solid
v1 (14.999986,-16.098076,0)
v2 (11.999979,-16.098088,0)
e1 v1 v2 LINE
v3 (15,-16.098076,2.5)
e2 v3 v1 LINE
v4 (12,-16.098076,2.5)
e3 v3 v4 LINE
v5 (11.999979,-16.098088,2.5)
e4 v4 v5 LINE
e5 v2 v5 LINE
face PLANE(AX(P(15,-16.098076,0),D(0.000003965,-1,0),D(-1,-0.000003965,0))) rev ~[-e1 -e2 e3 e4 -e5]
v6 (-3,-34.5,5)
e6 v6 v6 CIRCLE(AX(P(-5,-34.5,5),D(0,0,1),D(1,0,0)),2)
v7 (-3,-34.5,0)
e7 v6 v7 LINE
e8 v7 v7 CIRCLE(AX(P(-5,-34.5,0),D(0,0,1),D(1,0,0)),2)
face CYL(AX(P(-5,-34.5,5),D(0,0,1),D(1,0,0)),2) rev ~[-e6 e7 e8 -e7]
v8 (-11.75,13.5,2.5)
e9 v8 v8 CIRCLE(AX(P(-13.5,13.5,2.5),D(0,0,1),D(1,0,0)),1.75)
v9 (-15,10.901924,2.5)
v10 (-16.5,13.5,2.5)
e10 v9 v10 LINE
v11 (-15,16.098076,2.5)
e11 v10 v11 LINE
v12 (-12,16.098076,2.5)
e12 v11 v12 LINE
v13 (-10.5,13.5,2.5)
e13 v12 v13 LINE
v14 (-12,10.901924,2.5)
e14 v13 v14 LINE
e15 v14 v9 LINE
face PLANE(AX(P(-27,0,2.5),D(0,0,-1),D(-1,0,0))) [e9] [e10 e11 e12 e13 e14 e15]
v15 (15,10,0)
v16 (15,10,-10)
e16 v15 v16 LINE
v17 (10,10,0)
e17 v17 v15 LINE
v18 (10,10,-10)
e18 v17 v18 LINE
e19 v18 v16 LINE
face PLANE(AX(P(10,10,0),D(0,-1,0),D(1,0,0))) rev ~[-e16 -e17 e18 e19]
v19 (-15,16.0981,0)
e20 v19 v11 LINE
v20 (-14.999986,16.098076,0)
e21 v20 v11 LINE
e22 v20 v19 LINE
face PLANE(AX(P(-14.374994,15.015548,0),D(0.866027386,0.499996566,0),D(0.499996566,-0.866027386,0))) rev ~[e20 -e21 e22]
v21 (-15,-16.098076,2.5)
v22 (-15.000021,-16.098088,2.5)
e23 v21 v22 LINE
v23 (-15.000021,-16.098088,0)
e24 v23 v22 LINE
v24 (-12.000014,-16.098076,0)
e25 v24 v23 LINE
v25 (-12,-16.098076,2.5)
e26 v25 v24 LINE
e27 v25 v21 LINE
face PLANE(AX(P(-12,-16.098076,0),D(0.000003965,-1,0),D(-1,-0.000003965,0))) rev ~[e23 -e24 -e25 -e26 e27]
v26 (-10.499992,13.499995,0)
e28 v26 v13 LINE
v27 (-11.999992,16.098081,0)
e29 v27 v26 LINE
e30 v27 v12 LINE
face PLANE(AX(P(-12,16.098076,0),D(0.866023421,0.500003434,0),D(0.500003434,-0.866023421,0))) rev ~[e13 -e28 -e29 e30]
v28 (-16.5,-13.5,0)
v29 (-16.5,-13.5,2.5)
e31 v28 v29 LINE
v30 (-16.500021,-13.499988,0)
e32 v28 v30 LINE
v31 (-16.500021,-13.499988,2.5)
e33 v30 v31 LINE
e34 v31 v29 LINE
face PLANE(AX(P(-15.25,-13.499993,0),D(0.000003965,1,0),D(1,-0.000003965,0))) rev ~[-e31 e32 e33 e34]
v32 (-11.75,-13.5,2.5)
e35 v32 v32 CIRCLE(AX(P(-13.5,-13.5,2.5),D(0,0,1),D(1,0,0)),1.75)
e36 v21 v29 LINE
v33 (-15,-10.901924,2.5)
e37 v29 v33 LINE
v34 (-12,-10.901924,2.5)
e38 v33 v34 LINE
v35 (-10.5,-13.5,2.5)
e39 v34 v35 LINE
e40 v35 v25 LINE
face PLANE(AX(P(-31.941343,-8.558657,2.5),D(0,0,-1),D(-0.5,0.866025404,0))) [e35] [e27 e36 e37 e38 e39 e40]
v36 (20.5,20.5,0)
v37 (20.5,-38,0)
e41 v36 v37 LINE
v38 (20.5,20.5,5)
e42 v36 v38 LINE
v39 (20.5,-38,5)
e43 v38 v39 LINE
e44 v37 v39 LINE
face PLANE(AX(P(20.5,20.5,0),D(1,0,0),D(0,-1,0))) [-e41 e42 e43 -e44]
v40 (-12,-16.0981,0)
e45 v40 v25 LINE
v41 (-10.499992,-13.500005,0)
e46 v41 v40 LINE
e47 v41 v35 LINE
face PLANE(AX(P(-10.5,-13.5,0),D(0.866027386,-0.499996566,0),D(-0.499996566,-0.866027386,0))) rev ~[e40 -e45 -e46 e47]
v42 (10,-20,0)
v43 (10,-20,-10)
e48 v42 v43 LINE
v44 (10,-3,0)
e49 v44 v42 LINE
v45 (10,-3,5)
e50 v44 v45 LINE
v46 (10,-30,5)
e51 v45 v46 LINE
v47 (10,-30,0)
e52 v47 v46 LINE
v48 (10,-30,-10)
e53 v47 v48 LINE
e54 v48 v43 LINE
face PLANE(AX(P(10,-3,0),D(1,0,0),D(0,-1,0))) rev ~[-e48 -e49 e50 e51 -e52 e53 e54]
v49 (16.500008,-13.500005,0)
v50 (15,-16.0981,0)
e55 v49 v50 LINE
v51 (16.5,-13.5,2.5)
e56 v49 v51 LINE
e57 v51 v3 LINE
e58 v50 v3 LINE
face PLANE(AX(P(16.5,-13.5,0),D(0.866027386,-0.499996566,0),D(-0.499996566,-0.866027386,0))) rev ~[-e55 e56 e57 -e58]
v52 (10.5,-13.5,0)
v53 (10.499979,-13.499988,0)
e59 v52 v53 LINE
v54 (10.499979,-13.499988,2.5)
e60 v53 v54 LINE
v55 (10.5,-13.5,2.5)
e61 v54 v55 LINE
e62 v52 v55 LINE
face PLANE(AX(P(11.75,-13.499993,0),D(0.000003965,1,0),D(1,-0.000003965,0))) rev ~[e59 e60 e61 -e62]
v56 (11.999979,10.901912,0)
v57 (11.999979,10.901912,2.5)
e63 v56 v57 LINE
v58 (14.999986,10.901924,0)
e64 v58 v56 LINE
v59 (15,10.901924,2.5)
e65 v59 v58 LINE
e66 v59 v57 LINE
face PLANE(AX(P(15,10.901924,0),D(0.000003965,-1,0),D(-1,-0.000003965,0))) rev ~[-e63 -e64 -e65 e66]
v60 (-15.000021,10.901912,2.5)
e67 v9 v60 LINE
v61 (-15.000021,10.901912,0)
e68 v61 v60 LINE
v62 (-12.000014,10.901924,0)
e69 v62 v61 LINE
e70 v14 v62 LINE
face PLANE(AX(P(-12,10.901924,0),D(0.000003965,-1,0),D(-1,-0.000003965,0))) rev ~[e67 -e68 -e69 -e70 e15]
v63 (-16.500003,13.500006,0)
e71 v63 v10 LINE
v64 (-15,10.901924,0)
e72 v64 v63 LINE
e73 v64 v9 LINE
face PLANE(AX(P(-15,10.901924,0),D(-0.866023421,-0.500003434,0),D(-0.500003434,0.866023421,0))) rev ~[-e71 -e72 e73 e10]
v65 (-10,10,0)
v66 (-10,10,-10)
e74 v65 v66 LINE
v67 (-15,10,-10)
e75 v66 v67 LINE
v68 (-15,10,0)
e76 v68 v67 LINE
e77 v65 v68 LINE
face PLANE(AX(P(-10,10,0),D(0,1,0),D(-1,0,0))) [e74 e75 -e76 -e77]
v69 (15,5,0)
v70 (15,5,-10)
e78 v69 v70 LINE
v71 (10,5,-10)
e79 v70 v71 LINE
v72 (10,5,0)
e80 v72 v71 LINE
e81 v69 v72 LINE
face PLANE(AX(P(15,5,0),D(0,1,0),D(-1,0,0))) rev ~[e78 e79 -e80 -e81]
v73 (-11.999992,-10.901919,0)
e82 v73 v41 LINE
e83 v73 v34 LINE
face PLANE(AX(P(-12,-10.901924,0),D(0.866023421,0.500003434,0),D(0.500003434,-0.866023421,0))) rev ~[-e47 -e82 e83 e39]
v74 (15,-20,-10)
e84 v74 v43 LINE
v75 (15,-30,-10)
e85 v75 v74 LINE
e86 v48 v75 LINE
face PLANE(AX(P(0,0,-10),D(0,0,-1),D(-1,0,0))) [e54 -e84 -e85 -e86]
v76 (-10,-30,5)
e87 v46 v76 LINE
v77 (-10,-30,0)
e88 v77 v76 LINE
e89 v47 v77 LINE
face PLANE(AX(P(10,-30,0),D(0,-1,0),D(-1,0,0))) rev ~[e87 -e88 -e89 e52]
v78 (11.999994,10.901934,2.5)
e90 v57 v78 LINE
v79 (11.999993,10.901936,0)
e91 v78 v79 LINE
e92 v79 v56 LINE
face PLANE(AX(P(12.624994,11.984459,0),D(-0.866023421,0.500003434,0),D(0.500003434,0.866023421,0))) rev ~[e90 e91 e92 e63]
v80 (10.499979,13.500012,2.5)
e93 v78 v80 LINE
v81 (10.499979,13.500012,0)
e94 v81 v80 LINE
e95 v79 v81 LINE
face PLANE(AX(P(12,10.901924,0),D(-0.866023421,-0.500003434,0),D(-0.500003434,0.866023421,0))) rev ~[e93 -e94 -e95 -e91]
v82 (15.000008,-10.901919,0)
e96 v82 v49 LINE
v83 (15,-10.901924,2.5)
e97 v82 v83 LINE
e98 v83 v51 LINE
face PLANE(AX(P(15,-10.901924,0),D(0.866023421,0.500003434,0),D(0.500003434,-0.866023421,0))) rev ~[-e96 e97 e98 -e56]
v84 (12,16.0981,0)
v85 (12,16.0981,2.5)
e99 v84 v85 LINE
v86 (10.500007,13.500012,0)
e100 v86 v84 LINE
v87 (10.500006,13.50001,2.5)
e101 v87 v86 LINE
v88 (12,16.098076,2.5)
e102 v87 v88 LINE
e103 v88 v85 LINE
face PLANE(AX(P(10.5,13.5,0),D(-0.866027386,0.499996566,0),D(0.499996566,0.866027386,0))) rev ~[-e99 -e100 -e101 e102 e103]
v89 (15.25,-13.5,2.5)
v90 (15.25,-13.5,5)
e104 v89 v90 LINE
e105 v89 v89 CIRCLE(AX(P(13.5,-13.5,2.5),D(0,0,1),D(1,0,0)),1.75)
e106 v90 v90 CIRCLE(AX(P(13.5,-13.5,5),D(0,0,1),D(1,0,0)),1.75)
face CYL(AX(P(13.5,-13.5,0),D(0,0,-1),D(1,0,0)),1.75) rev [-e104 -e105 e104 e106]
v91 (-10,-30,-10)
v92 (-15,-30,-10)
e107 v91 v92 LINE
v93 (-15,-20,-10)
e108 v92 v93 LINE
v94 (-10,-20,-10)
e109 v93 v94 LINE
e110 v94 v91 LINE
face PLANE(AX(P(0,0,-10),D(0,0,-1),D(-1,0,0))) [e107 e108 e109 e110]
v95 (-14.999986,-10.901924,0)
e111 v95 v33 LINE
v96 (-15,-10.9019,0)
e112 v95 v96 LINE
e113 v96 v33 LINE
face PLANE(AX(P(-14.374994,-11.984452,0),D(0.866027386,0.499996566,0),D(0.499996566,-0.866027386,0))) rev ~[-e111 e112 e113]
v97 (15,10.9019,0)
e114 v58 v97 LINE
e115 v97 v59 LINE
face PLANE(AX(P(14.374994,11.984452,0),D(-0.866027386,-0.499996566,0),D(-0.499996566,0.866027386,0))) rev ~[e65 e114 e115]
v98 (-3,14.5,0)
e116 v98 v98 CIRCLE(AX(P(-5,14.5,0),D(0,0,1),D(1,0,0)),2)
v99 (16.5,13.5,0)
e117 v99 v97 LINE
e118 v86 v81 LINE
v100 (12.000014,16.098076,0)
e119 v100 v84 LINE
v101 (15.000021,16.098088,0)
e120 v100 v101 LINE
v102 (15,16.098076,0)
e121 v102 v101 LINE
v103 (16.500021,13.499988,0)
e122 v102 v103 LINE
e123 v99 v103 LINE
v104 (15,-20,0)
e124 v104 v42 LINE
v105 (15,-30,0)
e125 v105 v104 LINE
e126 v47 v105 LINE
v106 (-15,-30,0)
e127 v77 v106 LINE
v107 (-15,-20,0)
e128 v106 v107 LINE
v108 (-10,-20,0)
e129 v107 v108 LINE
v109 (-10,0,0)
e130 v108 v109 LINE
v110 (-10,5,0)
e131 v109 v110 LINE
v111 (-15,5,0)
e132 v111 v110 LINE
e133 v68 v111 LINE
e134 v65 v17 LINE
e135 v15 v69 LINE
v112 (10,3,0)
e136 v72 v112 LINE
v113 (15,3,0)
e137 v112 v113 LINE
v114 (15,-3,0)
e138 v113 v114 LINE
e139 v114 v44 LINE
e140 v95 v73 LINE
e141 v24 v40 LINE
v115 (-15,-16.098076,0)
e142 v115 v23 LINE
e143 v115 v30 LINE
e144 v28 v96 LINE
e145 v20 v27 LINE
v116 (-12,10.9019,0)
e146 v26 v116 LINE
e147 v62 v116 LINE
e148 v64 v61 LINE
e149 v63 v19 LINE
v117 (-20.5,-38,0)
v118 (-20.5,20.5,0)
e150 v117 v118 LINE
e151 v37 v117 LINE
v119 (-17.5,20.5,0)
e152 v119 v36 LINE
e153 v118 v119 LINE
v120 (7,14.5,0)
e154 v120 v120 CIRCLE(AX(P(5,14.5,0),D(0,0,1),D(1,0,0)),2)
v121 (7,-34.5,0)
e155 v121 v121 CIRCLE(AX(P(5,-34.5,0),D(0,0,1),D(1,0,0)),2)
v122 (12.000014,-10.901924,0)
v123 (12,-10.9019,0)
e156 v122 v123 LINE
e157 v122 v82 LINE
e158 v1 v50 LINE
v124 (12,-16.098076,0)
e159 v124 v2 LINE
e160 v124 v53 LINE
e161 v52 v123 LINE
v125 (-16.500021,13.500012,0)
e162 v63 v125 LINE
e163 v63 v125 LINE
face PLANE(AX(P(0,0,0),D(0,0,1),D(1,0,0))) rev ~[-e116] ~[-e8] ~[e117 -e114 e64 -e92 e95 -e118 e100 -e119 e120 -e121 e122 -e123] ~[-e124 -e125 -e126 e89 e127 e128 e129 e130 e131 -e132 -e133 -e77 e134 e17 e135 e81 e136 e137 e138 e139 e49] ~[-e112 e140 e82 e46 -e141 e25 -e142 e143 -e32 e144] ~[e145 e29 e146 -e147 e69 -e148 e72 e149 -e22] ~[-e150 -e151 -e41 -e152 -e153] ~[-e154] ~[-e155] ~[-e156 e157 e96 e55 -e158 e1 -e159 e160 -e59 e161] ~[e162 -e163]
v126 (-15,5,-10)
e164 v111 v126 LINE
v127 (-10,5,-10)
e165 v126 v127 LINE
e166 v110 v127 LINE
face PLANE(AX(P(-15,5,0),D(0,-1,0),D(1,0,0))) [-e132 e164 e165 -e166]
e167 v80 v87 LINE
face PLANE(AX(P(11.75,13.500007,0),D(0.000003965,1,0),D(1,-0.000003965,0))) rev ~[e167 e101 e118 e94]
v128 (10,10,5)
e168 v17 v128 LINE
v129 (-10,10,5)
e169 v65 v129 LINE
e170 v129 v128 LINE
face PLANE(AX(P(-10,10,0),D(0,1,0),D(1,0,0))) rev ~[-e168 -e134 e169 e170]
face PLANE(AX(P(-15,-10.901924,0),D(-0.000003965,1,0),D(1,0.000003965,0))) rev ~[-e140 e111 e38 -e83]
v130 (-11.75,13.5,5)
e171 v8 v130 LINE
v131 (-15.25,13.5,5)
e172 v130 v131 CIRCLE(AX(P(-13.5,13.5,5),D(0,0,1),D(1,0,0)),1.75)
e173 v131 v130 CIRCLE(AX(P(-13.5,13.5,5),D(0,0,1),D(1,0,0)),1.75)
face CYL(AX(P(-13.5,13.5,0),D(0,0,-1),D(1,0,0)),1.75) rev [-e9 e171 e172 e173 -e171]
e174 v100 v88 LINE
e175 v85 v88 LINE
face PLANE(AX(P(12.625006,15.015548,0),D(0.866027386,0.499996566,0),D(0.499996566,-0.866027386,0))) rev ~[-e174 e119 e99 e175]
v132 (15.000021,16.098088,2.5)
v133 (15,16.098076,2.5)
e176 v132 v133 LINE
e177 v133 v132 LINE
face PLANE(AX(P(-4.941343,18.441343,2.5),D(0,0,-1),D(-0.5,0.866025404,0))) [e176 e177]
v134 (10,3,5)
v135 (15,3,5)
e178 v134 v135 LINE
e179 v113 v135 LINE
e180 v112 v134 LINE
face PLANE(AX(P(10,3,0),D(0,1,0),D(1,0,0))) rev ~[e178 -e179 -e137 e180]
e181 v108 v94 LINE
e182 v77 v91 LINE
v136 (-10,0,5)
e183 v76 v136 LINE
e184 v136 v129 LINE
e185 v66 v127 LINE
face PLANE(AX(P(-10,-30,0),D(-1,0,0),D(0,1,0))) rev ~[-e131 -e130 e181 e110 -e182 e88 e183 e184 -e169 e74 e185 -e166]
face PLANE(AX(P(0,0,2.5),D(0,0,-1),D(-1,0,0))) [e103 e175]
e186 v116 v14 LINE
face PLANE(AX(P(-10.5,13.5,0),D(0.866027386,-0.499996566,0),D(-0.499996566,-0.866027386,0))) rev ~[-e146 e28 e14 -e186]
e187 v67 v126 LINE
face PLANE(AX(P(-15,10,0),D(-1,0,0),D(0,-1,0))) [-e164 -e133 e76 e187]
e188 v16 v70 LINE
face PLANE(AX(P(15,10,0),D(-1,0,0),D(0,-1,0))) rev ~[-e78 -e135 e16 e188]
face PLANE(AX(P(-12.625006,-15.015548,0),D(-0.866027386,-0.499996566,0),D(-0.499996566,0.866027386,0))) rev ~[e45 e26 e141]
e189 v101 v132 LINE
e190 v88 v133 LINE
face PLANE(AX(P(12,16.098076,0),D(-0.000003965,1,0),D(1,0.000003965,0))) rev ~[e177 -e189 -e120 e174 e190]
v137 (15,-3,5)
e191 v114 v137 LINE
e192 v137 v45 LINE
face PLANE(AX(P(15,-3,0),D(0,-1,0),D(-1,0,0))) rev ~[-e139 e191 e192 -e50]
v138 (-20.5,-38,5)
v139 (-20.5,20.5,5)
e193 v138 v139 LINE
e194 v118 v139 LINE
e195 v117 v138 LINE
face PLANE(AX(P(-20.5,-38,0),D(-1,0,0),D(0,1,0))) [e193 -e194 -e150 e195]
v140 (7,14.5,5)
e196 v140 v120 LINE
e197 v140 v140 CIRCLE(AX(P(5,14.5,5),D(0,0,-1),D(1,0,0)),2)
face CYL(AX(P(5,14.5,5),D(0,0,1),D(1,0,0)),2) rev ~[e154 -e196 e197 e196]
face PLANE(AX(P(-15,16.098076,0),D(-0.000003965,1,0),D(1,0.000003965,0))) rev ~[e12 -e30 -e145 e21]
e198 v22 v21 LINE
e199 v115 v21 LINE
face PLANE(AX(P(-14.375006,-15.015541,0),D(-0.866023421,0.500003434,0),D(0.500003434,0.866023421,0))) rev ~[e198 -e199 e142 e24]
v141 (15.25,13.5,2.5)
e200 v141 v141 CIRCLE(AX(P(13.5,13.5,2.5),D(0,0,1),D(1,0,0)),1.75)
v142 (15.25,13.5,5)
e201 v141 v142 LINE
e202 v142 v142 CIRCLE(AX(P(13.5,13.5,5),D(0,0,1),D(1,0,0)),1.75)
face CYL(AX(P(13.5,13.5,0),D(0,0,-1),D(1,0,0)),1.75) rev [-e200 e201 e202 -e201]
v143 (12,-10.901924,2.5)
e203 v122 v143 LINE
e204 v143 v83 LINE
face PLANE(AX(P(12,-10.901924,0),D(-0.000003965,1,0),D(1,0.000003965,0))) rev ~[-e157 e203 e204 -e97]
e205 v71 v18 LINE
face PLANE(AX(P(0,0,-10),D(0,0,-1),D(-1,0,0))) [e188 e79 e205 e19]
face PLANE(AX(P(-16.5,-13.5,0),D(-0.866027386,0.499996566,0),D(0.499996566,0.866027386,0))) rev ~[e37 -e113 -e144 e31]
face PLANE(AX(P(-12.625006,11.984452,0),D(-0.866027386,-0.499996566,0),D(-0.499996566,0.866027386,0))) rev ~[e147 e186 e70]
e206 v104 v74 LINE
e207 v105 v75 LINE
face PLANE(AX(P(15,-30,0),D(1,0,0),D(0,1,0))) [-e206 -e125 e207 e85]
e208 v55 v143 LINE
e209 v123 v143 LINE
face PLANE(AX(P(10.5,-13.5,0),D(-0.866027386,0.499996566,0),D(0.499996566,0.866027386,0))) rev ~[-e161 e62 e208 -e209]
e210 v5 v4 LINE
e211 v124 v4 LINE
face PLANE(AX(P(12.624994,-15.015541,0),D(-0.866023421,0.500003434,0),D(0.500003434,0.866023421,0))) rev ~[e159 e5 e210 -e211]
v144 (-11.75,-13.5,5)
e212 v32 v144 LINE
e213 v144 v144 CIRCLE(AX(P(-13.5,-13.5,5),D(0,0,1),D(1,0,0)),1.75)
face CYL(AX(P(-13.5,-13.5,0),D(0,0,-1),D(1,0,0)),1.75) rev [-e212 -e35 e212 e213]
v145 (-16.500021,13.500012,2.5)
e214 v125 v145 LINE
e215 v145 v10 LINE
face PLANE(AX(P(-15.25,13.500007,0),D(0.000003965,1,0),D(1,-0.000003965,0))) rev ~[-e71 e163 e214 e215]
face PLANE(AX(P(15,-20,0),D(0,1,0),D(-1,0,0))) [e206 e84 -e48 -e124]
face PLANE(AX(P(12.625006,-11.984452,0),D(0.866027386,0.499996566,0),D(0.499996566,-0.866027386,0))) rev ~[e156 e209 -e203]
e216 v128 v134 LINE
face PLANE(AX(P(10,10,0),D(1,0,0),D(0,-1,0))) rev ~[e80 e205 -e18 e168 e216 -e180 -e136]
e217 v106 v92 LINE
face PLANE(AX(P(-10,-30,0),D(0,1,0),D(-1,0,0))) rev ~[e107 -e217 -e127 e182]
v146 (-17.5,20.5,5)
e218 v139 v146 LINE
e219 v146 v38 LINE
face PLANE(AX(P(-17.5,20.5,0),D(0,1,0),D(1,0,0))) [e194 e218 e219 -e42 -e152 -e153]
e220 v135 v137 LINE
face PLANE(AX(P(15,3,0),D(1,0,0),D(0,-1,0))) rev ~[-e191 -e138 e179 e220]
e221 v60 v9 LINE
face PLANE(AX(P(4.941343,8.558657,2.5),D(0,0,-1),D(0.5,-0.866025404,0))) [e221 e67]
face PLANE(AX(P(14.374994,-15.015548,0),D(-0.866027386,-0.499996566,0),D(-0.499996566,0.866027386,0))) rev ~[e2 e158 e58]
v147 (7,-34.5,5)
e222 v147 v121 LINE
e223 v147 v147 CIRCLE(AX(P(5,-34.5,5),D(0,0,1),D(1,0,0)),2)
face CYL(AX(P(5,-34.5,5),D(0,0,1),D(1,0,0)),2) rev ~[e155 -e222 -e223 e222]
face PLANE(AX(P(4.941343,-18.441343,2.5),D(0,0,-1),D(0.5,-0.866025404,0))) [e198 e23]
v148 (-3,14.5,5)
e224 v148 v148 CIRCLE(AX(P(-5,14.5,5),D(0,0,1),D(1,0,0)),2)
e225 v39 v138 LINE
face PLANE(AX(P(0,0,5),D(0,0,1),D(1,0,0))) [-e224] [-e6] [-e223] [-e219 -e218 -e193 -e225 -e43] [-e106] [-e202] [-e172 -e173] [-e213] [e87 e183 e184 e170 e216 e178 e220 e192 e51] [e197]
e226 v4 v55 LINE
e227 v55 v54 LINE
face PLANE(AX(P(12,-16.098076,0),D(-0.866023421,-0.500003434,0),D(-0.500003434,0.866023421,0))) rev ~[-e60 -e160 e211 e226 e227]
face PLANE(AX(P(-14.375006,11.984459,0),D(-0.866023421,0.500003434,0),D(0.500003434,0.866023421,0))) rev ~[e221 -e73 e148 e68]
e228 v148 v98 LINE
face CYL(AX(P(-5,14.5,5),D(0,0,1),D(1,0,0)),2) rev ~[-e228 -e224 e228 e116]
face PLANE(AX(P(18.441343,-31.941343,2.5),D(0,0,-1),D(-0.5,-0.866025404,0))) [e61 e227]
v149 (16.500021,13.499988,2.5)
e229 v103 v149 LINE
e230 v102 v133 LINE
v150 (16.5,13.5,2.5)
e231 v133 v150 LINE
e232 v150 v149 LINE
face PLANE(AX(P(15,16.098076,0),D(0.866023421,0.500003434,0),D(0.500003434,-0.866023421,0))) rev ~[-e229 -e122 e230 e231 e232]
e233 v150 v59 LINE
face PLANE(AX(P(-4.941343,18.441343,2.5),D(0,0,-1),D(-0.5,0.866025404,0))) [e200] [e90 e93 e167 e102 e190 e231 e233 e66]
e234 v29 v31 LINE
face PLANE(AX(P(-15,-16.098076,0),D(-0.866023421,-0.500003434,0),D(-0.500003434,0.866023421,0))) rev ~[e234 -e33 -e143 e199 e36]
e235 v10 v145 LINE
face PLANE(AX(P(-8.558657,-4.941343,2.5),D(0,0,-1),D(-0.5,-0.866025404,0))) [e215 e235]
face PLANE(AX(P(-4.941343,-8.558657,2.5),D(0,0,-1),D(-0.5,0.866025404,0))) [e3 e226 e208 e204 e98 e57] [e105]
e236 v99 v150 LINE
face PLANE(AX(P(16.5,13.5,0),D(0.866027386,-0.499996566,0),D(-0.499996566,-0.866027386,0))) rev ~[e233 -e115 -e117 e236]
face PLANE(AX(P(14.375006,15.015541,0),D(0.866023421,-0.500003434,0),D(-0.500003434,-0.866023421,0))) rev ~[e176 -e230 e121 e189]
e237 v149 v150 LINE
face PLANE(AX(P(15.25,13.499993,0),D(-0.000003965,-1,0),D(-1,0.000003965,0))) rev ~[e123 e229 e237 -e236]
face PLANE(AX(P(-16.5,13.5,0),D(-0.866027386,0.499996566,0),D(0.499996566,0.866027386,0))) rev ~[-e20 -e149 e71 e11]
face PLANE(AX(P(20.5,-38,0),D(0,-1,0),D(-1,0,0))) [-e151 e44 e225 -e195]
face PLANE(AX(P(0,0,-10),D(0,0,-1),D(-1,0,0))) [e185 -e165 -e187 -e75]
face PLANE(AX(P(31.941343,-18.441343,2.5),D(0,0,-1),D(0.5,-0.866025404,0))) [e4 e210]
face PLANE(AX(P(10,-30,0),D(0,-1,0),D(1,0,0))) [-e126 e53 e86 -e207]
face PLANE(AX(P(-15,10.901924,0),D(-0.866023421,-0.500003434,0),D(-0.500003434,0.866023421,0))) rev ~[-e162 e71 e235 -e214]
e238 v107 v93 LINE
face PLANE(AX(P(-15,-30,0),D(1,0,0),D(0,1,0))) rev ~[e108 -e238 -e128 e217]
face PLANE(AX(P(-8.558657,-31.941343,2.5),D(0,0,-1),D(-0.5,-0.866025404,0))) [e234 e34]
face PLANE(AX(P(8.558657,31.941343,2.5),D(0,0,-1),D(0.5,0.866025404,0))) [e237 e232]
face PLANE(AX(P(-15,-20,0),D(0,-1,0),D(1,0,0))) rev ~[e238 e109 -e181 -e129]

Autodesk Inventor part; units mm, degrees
ref_plane "YZ Plane" through (0, 0, 0) normal (1, 0, 0) x (0, 1, 0)
ref_plane "XZ Plane" through (0, 0, 0) normal (0, 1, 0) x (-1, 0, 0)
ref_plane "XY Plane" through (0, 0, 0) normal (0, 0, 1) x (1, 0, 0)
sketch "Sketch1" plane through (0, 0, 0) normal (0, 0, 1) x (1, 0, 0)
  line L0 (0, 0) -> (-17.5, 0)
  line L1 (-17.5, 0) -> (-17.5, 17.5)
  line L2 (-17.5, 17.5) -> (17.5, 17.5)
  line L3 (-17.5, 17.5) -> (-17.5, 13.5)
  line L4 (-17.5, 13.5) -> (-13.5, 13.5)
  circle A0 centre (-13.5, 13.5) radius 1.75
  circle A1 centre (-13.5, -13.5) radius 1.75
  circle A2 centre (13.5, -13.5) radius 1.75
  circle A3 centre (13.5, 13.5) radius 1.75
  line L5 (0, 0) -> (-10, 0)
  line L6 (-10, 0) -> (-10, 10)
  line L7 (-10, 10) -> (10, 10)
  line L8 (10, 10) -> (10, -30)
  line L9 (10, -30) -> (-10, -30)
  line L10 (-10, -30) -> (-10, 0)
  line L11 (-17.5, 0) -> (-17.5, -35)
  line L12 (-17.5, -35) -> (17.5, -35)
  line L13 (17.5, -35) -> (17.5, 17.5)
  line L14 (10, 10) -> (10, 3)
  line L15 (10, 3) -> (15, 3)
  line L16 (15, 3) -> (15, -3)
  line L17 (15, -3) -> (10, -3)
  line L18 (-17.5, 17.5) -> (-17.5, 20.5)
  line L19 (-17.5, 20.5) -> (20.5, 20.5)
  line L20 (20.5, 20.5) -> (20.5, -38)
  line L21 (20.5, -38) -> (-20.5, -38)
  line L22 (-20.5, -38) -> (-20.5, 20.5)
  line L23 (-20.5, 20.5) -> (-17.5, 20.5)
  dimension "d0" = 17.5
  dimension "d1" = 17.5
  dimension "d2" = 35
  dimension "d3" = 4
  dimension "d4" = 4
  dimension "d5" = 3.5
  dimension "d8" = 360
  dimension "d10" = 10
  dimension "d11" = 10
  dimension "d12" = 20
  dimension "d13" = 40
  dimension "d14" = 20
  dimension "d15" = 35
  dimension "d16" = 7
  dimension "d17" = 5
  dimension "d18" = 6
  dimension "d19" = 3
  dimension "d20" = 38
  dimension "d21" = 58.5
  dimension "d22" = 41
extrude "Extrusion1" add sketch "Sketch1" along normal blind 5 contours L1 L2 L13 L12 L11 | L19 L20 L21 L22 L23
sketch "Sketch2" plane through (0, 0, 0) normal (0, 0, -1) x (-1, 0, 0)
  circle A0 centre (-13.5, 13.5) radius 1.75 projected
  line L0 (-13.5, 13.5) -> (-10.5, 13.5)
  line L1 (-10.5, 13.5) -> (-12, 16.0981)
  line L2 (-12, 16.0981) -> (-13.5, 13.5)
  point P0 (0, 0)
  dimension "d25" = 3
  dimension "d26" = 3
  dimension "d27" = 60
extrude "Extrusion2" cut sketch "Sketch2" against normal blind 2.5 contours L0 L2 A0 | A0 L2 L1 L0 picked at (-12.4952, 14.0801)
pattern_circular "Circular Pattern1" count 6 over 360 about axis through (13.5, 13.5, 0) along (0, 0, 1) of "Extrusion2"
sketch "Sketch3" plane through (0, 0, 0) normal (0, 0, -1) x (-1, 0, 0)
  line L0 (0, 0) -> (5, 0)
  line L1 (0, 0) -> (0, 5)
  dimension "d33" = 5
  dimension "d34" = 5
pattern_linear "Rectangular Pattern1" count 2 spacing 27 along (-1, 0, 0) count 2 spacing 27 along (0, -1, 0) of "Extrusion2", "Circular Pattern1"
sketch "Sketch4" plane through (0, 0, 5) normal (0, 0, 1) x (1, 0, 0)
  line L0 (-10, 10) -> (10, 10) projected
  line L1 (0, 10) -> (0, 14.5)
  line L2 (0, 14.5) -> (3, 14.5)
  line L3 (3, 14.5) -> (-3, 14.5)
  line L4 (3, 14.5) -> (5, 14.5)
  line L5 (-3, 14.5) -> (-5, 14.5)
  circle A0 centre (-5, 14.5) radius 2
  circle A1 centre (5, 14.5) radius 2
  line L6 (10, 10) -> (10, -30)
  line L7 (-10, -30) -> (10, -30) projected
  line L8 (10, 10) -> (10, -10)
  line L9 (10, -30) -> (10, -3) projected
  line L10 (10, -10) -> (0.7941, -10)
  circle A2 centre (-5, -34.5) radius 2
  circle A3 centre (5, -34.5) radius 2
  point P0 (0, 0)
  dimension "d41" = 4.5
  dimension "d42" = 3
  dimension "d43" = 6
  dimension "d44" = 2
  dimension "d45" = 2
  dimension "d46" = 4
  dimension "d47" = 4
  dimension "d48" = 20
extrude "Extrusion3" cut sketch "Sketch4" against normal through all
sketch "Sketch5" plane through (0, 0, 0) normal (0, 0, -1) x (-1, 0, 0)
  line L0 (10, -30) -> (15, -30)
  line L1 (15, -30) -> (15, -20)
  line L2 (15, -20) -> (10, -20)
  line L3 (10, 10) -> (10, -30) projected
  line L4 (-10, -30) -> (-15, -30)
  line L5 (-15, -30) -> (-15, -20)
  line L6 (-15, -20) -> (-10, -20)
  line L7 (-10, -30) -> (-10, -3) projected
  line L8 (-10, -30) -> (-10, -20)
  line L9 (10, -20) -> (10, -30)
  line L10 (-10, 10) -> (-15, 10)
  line L11 (-15, 10) -> (-15, 5)
  line L12 (-15, 5) -> (-10, 5)
  line L13 (-10, 3) -> (-10, 10) projected
  line L14 (-10, 10) -> (-10, 5)
  line L15 (10, 10) -> (15, 10)
  line L16 (15, 10) -> (15, 5)
  line L17 (15, 5) -> (10, 5)
  line L18 (10, 10) -> (10, 5)
  point P0 (0, 0)
  dimension "d51" = 5
  dimension "d52" = 10
  dimension "d53" = 5
  dimension "d54" = 10
  dimension "d55" = 5
  dimension "d56" = 5
  dimension "d57" = 5
  dimension "d58" = 5
extrude "Extrusion4" add sketch "Sketch5" along normal blind 10
properties part number "servorPlace"
